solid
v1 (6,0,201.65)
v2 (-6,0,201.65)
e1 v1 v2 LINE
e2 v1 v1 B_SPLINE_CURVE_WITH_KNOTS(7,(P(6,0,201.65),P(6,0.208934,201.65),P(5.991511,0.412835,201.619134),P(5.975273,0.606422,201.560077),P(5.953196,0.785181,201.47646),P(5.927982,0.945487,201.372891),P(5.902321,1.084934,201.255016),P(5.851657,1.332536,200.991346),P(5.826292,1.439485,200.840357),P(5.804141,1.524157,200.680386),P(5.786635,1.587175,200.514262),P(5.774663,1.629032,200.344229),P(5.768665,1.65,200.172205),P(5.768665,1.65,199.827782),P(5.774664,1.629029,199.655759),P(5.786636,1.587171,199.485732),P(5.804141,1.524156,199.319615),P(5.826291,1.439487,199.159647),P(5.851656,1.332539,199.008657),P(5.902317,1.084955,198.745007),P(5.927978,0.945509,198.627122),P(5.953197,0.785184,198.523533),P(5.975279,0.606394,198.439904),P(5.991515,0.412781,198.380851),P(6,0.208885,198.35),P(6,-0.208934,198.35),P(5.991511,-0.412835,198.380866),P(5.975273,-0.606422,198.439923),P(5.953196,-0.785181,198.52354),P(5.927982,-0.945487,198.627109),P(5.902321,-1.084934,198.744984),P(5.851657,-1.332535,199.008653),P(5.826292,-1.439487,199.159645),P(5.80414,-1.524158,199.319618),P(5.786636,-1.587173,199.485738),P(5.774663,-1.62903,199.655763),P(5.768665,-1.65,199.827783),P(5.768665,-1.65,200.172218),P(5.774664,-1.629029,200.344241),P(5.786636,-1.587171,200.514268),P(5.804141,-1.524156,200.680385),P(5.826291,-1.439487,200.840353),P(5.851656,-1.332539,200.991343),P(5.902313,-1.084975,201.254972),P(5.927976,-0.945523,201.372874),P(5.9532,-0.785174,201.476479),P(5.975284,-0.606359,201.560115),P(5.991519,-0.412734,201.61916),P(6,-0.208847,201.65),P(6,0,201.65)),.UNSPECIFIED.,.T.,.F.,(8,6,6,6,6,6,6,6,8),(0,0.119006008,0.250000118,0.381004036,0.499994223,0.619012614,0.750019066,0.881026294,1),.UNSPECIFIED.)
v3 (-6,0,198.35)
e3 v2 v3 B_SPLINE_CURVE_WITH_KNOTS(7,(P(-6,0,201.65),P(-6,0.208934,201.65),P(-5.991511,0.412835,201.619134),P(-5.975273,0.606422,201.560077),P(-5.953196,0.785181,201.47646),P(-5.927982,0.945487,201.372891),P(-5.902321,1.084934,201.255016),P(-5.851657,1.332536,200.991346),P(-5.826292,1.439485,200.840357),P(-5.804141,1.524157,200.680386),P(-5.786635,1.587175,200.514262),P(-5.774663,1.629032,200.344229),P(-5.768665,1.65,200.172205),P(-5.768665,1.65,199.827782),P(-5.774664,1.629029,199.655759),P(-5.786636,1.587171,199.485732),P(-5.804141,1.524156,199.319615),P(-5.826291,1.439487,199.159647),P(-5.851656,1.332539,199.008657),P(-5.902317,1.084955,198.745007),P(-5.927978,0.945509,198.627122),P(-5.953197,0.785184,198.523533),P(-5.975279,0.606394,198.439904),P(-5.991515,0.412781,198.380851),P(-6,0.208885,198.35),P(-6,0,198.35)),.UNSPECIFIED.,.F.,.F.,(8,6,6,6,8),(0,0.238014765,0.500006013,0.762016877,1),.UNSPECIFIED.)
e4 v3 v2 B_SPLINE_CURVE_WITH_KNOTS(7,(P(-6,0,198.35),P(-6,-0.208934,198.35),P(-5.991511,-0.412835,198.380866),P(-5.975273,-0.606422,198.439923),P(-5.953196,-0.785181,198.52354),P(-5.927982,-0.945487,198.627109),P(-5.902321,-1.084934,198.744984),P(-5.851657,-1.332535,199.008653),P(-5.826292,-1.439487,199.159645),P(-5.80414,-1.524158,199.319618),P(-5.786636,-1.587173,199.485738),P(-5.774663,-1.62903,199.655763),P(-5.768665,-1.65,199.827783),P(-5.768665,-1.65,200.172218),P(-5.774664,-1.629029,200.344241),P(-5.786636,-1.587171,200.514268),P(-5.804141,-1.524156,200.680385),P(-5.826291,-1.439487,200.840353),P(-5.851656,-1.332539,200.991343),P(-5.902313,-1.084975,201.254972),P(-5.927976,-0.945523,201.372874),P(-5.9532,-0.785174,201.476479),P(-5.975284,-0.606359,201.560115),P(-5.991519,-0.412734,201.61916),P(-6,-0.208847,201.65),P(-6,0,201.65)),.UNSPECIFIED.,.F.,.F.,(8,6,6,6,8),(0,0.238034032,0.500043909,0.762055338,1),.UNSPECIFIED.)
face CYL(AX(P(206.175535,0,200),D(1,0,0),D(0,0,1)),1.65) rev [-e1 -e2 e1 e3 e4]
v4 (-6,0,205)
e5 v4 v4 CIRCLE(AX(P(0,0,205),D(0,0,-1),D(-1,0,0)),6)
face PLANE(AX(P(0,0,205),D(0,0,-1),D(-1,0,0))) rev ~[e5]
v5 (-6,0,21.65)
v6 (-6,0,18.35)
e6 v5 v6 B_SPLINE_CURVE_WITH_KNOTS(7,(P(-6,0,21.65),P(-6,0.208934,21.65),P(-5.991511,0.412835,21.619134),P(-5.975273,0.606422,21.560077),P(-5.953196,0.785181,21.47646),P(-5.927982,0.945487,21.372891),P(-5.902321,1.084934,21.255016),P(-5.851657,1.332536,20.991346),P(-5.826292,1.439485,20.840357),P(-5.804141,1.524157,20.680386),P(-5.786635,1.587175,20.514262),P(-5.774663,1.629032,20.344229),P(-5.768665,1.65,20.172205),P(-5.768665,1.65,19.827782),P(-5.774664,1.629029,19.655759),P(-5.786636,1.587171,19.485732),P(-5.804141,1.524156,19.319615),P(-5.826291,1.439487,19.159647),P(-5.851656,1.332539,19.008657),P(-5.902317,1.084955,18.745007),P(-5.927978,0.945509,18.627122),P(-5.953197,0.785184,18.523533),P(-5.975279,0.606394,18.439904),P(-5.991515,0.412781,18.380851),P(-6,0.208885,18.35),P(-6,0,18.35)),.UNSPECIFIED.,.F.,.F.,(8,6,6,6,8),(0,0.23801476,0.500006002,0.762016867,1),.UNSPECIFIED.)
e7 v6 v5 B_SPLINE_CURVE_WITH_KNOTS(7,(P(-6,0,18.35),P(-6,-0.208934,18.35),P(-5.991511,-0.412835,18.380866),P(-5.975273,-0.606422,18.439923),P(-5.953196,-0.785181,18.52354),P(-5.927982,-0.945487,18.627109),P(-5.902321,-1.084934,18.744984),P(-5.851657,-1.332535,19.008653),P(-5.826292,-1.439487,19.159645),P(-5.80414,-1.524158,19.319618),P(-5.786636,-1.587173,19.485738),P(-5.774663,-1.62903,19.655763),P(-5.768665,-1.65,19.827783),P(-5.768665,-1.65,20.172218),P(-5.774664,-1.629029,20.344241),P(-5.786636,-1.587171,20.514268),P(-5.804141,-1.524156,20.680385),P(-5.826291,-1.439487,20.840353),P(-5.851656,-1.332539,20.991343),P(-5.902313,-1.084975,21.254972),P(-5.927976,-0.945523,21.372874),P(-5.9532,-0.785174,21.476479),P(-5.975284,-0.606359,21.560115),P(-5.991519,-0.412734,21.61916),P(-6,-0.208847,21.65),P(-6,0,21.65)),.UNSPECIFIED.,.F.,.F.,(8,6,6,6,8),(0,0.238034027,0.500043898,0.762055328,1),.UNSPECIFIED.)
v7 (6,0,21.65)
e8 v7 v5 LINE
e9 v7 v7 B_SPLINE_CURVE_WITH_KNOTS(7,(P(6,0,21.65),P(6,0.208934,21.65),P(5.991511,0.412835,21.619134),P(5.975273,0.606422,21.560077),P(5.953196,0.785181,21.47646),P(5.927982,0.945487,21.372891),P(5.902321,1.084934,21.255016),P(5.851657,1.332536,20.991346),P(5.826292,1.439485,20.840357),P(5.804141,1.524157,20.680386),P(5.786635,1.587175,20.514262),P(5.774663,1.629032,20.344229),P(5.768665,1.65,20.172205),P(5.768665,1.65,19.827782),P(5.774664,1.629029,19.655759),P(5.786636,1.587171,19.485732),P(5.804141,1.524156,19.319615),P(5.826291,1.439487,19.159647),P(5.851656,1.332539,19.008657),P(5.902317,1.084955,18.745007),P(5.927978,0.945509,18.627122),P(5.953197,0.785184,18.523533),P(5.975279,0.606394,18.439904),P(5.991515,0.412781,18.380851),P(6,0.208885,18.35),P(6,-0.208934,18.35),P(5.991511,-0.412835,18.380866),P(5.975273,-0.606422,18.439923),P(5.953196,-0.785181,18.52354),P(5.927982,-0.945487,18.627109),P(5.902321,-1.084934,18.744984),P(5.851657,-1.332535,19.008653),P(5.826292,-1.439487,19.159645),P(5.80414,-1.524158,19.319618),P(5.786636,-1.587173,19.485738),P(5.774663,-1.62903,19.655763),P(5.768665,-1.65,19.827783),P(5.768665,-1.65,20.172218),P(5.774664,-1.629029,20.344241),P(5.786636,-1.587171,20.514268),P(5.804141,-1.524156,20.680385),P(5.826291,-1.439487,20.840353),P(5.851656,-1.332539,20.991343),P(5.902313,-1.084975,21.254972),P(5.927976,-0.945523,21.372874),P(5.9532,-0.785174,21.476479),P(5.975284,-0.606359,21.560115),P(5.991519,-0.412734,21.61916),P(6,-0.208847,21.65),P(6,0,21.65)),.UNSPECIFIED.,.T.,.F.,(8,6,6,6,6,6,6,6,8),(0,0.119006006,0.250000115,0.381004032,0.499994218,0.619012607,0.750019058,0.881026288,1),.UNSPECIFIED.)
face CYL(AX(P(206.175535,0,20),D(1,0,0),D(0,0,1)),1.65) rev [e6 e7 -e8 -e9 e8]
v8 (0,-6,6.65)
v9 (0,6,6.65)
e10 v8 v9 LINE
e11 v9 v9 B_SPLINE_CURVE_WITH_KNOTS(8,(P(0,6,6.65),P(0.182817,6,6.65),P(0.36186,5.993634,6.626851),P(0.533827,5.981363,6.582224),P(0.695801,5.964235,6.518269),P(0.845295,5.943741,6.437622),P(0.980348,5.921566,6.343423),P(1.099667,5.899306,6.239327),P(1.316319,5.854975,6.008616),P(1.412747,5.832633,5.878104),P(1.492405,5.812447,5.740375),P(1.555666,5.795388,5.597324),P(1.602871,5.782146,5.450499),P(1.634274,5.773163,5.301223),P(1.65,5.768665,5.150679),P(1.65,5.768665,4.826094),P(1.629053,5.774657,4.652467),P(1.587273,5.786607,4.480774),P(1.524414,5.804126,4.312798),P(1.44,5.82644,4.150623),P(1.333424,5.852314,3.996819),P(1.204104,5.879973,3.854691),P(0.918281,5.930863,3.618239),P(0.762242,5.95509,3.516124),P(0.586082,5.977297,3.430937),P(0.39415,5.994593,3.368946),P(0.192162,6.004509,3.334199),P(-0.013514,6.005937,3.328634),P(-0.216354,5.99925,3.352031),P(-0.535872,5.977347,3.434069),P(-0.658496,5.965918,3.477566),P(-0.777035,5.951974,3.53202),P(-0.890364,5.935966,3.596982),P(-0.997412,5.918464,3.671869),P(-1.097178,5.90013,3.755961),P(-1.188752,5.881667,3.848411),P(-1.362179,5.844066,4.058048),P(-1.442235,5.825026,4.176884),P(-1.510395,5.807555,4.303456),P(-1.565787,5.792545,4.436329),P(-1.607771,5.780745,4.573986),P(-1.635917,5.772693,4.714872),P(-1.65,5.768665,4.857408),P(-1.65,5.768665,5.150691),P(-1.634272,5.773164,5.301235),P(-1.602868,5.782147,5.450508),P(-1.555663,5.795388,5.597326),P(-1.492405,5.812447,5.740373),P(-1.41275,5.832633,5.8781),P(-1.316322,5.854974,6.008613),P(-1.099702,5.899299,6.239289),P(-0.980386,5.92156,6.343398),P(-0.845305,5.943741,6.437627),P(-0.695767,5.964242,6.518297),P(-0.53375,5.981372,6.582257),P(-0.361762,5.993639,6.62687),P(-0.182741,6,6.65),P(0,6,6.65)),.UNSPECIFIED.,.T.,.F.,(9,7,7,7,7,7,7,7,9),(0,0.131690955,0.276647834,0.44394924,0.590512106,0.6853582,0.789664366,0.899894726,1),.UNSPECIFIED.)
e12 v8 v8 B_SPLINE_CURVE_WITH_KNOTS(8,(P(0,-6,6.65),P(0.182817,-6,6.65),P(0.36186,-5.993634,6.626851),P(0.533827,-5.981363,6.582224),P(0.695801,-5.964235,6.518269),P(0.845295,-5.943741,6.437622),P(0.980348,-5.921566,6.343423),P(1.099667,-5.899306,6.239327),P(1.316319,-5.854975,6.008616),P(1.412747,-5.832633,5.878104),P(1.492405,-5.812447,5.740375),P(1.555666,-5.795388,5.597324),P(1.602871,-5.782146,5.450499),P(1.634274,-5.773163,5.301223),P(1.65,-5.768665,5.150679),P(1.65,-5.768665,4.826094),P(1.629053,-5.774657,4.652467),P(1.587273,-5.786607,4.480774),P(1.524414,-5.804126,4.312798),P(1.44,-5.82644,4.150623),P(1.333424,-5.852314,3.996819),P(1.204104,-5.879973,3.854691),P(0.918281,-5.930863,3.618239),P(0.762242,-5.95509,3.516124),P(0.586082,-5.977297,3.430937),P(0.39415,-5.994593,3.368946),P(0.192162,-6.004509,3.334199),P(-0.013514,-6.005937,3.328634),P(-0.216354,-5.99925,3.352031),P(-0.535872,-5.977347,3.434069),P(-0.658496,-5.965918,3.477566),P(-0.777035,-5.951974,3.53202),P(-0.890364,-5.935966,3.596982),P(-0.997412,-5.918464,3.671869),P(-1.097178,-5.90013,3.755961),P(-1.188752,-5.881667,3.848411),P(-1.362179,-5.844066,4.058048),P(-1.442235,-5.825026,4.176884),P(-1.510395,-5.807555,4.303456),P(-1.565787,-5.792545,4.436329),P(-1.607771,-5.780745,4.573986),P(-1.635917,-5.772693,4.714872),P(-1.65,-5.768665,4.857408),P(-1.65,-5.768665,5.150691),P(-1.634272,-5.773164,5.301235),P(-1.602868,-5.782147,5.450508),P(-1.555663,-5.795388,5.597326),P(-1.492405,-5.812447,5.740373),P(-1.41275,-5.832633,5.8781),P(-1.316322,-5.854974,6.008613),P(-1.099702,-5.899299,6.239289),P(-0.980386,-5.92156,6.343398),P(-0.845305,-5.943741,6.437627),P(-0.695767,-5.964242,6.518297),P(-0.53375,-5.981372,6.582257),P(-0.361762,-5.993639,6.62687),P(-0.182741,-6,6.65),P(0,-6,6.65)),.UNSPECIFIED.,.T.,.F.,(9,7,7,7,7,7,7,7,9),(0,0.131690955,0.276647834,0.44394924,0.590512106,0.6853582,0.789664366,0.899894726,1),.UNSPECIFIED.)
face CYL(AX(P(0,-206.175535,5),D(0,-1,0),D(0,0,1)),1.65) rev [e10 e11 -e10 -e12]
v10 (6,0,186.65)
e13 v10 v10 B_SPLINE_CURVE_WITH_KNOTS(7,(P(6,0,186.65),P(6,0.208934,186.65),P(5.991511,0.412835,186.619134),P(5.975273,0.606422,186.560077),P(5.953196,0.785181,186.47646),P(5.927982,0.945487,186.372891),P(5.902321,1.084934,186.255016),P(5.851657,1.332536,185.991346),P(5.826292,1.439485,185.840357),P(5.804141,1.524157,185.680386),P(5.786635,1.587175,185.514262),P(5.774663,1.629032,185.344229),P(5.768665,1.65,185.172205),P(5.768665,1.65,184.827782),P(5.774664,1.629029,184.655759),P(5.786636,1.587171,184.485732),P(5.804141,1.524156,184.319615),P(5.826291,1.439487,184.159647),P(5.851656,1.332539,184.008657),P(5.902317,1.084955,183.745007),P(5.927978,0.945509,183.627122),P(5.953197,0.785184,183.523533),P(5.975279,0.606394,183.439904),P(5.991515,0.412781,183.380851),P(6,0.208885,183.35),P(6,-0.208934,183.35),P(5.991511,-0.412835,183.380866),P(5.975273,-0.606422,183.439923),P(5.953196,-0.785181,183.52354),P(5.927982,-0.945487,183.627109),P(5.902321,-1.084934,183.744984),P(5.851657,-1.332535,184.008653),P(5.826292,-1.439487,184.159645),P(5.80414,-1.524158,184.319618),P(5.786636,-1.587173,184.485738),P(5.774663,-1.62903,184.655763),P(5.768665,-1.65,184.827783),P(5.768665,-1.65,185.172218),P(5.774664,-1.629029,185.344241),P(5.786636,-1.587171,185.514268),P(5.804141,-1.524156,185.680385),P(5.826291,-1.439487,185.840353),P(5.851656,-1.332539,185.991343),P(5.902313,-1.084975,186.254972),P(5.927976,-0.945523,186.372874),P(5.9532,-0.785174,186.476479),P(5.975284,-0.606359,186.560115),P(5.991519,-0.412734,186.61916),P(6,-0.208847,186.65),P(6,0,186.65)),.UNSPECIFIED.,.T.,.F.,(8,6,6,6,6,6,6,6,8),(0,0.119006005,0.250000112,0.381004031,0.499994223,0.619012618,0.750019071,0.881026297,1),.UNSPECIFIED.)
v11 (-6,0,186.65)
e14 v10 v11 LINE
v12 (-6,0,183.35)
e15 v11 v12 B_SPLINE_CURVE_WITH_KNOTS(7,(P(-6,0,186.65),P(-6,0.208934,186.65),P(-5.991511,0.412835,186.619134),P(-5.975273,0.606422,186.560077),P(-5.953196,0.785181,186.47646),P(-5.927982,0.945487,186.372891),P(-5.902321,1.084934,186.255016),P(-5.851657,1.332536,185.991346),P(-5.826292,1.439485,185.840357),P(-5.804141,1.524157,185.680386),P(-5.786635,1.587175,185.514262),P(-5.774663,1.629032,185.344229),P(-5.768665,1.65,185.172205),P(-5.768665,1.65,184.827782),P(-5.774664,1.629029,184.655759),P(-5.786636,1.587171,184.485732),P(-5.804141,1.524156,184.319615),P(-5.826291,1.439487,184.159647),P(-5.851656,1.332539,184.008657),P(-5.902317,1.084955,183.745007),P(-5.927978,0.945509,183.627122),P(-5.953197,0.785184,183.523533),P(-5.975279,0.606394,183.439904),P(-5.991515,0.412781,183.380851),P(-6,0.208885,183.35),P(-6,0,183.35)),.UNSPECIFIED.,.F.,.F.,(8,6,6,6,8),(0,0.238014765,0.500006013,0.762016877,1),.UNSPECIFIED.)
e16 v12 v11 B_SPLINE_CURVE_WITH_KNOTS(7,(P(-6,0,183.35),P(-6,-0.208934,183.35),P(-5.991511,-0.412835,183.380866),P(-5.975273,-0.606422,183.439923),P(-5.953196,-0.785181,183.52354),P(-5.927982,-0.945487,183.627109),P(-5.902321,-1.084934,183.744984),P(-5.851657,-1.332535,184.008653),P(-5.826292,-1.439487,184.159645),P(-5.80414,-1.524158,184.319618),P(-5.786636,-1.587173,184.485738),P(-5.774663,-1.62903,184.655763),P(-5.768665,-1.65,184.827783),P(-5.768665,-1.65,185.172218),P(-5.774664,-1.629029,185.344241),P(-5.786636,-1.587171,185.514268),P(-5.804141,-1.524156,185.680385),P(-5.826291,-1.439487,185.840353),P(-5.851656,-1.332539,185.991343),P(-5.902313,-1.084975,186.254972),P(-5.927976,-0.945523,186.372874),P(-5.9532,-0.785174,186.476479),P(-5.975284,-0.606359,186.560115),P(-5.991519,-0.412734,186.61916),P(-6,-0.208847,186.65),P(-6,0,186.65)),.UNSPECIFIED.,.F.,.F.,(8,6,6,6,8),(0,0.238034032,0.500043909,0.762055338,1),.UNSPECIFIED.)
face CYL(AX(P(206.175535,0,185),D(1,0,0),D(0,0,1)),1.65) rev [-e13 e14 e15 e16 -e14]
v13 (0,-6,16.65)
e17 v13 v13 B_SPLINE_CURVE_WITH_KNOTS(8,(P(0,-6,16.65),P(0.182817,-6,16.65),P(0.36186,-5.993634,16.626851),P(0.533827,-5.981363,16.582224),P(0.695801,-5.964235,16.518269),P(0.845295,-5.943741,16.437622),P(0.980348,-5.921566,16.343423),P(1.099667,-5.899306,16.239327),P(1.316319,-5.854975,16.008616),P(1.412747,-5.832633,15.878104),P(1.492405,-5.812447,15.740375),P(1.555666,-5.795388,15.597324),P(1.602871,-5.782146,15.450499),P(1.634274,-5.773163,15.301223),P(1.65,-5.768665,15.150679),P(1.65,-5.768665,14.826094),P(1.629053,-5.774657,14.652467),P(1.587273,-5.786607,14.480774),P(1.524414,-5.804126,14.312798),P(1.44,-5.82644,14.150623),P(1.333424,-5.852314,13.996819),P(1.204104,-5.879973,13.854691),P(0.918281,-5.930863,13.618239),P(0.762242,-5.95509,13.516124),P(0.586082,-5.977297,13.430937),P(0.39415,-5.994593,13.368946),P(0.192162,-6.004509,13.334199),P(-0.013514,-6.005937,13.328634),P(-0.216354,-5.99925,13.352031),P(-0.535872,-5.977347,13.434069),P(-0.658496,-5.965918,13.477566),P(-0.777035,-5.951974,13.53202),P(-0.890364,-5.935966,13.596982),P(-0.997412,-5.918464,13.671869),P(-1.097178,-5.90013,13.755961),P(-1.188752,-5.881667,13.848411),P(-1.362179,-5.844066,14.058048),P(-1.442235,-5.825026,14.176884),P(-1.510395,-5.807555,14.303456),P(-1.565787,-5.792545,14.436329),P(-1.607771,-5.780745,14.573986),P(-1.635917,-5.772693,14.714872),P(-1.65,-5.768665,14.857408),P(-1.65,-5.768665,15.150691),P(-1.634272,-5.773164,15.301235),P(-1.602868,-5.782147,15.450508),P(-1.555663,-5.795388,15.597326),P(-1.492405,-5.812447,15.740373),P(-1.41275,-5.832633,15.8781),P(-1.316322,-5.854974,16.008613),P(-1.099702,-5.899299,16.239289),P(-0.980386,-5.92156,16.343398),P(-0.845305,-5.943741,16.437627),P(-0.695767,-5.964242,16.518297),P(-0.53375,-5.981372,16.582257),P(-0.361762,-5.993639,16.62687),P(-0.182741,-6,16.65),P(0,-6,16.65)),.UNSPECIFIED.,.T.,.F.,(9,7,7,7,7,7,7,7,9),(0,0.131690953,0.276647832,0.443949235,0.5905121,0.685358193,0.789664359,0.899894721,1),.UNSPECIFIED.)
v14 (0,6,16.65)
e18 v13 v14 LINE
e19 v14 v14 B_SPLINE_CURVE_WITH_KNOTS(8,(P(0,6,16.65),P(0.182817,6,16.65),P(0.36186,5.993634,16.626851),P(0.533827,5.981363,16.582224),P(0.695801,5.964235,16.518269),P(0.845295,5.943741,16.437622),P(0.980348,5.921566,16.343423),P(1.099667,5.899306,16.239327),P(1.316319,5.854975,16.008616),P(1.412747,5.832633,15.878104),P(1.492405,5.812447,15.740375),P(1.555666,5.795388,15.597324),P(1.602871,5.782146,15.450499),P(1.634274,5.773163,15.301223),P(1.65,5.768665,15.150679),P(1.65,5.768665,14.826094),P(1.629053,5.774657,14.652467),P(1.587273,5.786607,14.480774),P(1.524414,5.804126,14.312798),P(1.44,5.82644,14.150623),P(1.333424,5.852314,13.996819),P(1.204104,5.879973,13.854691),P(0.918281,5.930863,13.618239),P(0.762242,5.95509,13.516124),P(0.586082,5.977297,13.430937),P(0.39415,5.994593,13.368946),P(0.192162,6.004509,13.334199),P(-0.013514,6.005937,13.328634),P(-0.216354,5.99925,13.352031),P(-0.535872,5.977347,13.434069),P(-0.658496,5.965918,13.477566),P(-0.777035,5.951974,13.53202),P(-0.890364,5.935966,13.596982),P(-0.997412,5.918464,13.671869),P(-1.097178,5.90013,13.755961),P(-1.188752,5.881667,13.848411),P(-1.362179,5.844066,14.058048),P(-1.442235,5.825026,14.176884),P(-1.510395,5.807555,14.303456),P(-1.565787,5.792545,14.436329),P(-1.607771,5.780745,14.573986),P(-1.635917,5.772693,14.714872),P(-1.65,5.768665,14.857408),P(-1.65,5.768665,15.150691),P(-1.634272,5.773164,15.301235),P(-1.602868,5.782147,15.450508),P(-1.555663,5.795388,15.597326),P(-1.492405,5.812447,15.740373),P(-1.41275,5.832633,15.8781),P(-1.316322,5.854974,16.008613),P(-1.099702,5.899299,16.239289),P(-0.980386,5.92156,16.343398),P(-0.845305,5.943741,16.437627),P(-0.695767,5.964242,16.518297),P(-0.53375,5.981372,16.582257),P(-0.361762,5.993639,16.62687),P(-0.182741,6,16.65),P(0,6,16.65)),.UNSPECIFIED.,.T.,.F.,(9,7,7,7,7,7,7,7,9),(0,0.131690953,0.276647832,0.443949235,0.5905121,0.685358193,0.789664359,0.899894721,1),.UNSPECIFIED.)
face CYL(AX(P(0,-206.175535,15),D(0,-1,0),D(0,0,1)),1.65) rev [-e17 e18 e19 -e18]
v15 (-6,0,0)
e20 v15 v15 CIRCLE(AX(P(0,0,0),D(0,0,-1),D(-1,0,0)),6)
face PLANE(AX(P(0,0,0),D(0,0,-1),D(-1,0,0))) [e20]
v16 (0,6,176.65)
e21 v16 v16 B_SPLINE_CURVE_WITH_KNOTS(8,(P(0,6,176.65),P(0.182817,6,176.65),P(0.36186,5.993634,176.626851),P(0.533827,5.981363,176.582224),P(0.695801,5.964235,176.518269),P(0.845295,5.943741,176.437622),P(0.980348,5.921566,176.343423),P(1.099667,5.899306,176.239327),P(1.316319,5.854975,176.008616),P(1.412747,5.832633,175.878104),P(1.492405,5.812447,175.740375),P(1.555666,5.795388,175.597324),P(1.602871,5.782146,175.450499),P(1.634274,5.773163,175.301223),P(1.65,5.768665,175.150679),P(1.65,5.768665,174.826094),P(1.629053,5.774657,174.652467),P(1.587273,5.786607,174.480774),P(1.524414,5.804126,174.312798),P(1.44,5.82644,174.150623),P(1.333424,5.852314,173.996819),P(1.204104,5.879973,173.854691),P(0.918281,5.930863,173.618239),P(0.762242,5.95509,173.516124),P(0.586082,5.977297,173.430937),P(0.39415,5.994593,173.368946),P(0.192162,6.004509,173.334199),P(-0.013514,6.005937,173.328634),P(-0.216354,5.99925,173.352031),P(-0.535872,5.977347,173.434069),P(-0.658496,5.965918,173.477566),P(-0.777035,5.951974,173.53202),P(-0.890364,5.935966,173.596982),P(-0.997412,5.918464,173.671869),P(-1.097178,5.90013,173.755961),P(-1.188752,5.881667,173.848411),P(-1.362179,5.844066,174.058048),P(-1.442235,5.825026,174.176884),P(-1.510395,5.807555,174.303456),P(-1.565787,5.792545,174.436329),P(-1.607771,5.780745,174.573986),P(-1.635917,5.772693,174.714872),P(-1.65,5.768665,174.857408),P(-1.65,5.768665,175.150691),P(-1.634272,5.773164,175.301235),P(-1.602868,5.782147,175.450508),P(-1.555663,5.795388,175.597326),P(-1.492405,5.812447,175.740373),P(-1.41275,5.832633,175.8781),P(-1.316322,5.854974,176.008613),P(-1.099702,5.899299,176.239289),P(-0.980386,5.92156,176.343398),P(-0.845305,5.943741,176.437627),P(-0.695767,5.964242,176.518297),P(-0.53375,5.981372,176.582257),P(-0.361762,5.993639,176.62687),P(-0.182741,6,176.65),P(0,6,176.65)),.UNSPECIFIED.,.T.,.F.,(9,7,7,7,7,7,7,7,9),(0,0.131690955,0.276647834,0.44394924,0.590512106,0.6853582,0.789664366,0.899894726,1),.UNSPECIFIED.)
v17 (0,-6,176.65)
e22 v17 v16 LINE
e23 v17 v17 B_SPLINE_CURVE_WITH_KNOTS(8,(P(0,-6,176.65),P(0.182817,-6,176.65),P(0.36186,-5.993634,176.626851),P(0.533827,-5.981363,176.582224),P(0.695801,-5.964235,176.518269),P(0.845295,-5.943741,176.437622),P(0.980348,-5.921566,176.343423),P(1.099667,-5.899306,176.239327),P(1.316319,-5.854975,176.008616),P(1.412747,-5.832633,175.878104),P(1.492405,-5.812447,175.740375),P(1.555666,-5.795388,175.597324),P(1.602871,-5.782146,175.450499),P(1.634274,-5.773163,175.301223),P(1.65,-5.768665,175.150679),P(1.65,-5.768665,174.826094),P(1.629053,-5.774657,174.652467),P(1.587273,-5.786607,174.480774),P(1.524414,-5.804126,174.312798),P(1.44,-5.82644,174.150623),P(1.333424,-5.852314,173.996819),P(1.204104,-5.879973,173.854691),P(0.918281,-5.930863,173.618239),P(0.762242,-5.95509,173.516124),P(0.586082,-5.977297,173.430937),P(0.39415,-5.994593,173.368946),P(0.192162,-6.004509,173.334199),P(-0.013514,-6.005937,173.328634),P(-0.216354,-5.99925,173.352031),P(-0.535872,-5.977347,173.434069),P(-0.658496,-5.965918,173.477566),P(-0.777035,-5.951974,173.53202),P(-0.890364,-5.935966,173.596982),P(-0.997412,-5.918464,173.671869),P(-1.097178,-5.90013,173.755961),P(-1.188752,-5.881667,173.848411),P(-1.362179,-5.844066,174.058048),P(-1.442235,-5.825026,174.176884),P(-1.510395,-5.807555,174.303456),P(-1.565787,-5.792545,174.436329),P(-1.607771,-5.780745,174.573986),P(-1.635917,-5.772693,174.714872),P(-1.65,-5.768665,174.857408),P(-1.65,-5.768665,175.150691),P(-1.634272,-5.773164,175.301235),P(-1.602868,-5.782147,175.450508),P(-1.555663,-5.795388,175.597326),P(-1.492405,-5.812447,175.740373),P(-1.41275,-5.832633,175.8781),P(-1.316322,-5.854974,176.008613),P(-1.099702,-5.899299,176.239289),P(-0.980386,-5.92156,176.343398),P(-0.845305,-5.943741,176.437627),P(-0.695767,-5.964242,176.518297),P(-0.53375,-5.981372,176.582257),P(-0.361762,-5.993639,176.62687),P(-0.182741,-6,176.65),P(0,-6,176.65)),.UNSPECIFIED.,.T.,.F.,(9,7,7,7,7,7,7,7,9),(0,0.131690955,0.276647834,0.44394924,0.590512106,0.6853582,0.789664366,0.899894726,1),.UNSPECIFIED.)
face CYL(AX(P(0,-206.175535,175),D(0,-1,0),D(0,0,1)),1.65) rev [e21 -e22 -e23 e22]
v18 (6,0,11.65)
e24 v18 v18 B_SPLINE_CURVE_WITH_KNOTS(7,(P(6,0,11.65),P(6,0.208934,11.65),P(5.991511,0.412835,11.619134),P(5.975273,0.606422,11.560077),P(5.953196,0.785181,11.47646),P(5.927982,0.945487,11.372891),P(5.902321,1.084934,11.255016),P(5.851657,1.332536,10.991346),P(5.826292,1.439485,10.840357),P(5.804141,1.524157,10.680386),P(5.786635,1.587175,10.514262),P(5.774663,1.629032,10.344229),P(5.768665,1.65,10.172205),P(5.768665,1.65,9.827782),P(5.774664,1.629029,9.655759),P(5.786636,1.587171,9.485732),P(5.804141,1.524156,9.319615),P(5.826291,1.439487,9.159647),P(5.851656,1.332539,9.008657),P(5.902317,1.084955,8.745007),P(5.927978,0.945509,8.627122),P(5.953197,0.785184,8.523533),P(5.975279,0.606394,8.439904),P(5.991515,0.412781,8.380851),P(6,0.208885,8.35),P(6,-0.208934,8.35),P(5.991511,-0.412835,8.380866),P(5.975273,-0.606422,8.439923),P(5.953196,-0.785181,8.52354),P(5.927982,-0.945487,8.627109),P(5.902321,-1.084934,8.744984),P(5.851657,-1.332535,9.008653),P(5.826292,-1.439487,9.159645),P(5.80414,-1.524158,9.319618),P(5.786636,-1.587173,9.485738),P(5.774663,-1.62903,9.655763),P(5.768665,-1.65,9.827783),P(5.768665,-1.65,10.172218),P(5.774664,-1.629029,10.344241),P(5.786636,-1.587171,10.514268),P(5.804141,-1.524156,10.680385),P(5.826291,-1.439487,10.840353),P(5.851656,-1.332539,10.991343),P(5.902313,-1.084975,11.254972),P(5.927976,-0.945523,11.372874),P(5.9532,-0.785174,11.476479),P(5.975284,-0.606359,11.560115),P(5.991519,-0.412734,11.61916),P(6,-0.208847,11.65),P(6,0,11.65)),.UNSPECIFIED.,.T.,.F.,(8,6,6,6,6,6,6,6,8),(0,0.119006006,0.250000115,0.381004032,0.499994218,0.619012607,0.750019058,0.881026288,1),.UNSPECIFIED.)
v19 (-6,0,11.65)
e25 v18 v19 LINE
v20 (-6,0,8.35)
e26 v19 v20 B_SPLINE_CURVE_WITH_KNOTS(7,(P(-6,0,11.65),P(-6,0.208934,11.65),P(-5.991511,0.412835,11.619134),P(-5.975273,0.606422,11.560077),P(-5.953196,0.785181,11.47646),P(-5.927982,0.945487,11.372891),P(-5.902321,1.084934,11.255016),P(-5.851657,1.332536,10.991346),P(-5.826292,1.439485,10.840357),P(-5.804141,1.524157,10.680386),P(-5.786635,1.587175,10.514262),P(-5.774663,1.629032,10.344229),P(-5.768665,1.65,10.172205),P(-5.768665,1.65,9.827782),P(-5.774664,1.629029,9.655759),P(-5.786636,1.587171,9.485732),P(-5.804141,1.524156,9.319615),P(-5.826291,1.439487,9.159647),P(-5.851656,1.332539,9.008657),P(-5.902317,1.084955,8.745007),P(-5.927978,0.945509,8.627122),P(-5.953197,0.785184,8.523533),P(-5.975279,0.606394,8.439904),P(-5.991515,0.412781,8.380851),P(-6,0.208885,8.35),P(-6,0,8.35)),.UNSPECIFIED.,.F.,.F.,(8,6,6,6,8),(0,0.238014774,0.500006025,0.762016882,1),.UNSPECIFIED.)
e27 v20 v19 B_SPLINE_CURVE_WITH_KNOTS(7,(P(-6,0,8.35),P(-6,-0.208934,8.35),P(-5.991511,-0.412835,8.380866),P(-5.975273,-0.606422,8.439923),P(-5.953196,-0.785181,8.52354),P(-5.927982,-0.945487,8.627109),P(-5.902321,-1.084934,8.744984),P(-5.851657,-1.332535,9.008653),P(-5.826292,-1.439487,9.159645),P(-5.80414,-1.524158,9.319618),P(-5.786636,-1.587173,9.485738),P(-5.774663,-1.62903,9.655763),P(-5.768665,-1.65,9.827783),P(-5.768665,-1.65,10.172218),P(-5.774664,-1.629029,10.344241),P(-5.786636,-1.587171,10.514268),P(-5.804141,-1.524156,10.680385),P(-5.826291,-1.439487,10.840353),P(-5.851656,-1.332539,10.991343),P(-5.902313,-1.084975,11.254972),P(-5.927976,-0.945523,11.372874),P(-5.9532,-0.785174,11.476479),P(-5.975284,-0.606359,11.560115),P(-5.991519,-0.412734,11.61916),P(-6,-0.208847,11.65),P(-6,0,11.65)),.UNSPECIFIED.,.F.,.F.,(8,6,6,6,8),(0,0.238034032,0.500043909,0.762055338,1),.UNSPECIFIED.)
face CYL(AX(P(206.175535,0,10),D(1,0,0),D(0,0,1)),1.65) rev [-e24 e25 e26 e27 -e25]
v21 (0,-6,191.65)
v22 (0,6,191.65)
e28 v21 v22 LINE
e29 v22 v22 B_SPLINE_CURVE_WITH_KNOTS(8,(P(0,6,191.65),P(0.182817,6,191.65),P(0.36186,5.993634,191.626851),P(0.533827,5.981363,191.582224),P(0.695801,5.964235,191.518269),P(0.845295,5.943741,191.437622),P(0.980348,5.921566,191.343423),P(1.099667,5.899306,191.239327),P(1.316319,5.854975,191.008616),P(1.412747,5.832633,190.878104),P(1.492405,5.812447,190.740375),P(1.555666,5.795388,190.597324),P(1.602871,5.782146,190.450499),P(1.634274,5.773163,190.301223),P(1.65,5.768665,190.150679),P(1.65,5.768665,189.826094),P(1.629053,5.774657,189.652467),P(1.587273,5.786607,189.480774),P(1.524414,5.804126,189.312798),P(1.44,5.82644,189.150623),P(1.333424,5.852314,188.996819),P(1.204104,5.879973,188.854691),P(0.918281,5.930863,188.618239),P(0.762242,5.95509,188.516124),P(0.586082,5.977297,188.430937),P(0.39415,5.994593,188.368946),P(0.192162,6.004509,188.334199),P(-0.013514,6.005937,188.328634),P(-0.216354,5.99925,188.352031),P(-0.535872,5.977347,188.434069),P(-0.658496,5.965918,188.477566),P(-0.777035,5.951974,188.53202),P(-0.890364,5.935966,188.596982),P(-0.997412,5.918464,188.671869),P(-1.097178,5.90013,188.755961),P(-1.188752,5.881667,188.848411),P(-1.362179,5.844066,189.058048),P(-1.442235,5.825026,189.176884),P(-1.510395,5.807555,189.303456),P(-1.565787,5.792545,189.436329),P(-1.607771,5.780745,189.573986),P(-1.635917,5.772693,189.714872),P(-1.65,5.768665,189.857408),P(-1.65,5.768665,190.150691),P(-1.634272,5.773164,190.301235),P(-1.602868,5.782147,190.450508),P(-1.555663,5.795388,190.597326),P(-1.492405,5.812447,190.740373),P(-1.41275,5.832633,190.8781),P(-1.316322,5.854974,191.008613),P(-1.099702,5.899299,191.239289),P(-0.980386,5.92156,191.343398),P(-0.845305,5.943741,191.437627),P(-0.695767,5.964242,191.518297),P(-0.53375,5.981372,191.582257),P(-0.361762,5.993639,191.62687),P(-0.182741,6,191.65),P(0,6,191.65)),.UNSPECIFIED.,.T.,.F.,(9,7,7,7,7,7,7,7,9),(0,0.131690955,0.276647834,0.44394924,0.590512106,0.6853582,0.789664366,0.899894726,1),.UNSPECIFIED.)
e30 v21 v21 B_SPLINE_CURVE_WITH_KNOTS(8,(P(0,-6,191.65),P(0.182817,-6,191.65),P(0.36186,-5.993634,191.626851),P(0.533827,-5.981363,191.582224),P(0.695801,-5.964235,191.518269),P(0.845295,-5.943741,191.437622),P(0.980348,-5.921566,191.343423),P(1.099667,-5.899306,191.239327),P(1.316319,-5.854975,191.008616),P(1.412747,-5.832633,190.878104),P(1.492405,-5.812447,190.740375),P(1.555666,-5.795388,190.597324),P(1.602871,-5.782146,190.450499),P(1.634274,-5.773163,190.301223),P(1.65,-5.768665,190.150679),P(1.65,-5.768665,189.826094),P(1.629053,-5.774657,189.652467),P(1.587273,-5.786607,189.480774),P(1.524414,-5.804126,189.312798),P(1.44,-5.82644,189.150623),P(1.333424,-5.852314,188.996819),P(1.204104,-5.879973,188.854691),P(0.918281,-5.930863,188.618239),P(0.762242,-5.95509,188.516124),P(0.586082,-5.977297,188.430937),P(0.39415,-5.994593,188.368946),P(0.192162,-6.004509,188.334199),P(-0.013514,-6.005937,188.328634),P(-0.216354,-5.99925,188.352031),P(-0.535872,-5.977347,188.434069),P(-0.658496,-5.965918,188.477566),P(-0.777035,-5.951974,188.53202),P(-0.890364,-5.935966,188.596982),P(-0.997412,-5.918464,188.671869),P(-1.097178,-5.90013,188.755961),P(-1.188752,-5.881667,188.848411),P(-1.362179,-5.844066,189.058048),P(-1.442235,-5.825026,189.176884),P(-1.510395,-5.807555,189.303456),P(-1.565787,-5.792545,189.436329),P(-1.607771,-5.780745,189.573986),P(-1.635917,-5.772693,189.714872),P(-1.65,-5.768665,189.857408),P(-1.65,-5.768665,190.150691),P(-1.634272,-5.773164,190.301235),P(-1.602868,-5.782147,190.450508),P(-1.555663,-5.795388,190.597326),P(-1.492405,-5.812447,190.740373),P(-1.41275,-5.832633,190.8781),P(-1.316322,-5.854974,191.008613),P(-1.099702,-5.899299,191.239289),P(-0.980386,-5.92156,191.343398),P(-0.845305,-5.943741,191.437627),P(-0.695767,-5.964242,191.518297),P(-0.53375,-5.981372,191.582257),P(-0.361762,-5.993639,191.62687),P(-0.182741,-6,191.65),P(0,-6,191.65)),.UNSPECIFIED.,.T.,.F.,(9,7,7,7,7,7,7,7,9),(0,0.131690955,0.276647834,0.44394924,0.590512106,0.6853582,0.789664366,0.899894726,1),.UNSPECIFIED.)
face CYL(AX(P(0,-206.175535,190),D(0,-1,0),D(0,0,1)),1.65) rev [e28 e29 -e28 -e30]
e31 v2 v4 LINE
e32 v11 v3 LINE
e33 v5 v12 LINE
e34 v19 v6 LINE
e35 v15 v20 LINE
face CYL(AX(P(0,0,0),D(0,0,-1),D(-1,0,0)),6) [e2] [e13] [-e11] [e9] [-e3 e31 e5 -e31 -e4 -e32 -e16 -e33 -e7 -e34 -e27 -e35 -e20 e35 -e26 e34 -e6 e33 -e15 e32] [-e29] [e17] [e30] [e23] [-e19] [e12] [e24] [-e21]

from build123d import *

# Parameters (mm, degrees)
SKETCH_1_W               = 8
SKETCH_1_H               = 8
SKETCH_1_W_2             = 4
SKETCH_1_H_2             = 4
EXTRUDE_1_DEPTH          = 205
SKETCH_7_R               = 6
EXTRUDE_2_DEPTH          = 205
CUT_EXTRUDE_1_DEPTH      = 206.175534604
CUT_EXTRUDE_1_DEPTH_BACK = 206.175534604
SKETCH_2_R               = 1.65
CUT_EXTRUDE_2_DEPTH      = 206.17553471
CUT_EXTRUDE_2_DEPTH_BACK = 206.17553471
SKETCH_3_R               = 1.65
CUT_EXTRUDE_3_DEPTH      = 206.17553471
CUT_EXTRUDE_3_DEPTH_BACK = 206.17553471
SKETCH_4_R               = 1.65
CUT_EXTRUDE_4_DEPTH      = 206.17553471
CUT_EXTRUDE_4_DEPTH_BACK = 206.17553471
SKETCH_5_R               = 1.65


with BuildPart() as part:
    # 草图1 → 凸台-拉伸1 (new body)
    with BuildSketch(Plane.XY):
        Rectangle(SKETCH_1_W, SKETCH_1_H)
        Rectangle(SKETCH_1_W_2, SKETCH_1_H_2, mode=Mode.SUBTRACT)
    extrude(amount=EXTRUDE_1_DEPTH)

    # 草图7 → 凸台-拉伸2 (add)
    with BuildSketch(Plane(origin=(0, 0, 0), x_dir=(-1, 0, 0), z_dir=(0, 0, -1))):
        Circle(SKETCH_7_R)
    extrude(amount=-EXTRUDE_2_DEPTH)

    # 草图2 → 切除-拉伸1 (cut, two sides: drawn at the far end of the back side and taken through both)
    with BuildSketch(Plane(origin=(0, 0, 0), x_dir=(1, 0, 0), z_dir=(0, 1, 0)).offset(-CUT_EXTRUDE_1_DEPTH_BACK)):
        with Locations(Location((0, -5, 0), (0, 0, 270))):
            Circle(SKETCH_2_R)
        with Locations(Location((0, -15, 0), (0, 0, 270))):
            Circle(SKETCH_2_R)
    extrude(amount=CUT_EXTRUDE_1_DEPTH + CUT_EXTRUDE_1_DEPTH_BACK, mode=Mode.SUBTRACT)

    # 草图3 → 切除-拉伸2 (cut, two sides: drawn at the far end of the back side and taken through both)
    with BuildSketch(Plane.ZY.offset(-CUT_EXTRUDE_2_DEPTH_BACK)):
        with Locations((10, 0)):
            Circle(SKETCH_3_R)
        with Locations((20, 0)):
            Circle(SKETCH_3_R)
    extrude(amount=CUT_EXTRUDE_2_DEPTH + CUT_EXTRUDE_2_DEPTH_BACK, mode=Mode.SUBTRACT)

    # 草图4 → 切除-拉伸3 (cut, two sides: drawn at the far end of the back side and taken through both)
    with BuildSketch(Plane.ZY.offset(-CUT_EXTRUDE_3_DEPTH_BACK)):
        with Locations((200, 0)):
            Circle(SKETCH_4_R)
        with Locations((185, 0)):
            Circle(SKETCH_4_R)
    extrude(amount=CUT_EXTRUDE_3_DEPTH + CUT_EXTRUDE_3_DEPTH_BACK, mode=Mode.SUBTRACT)

    # 草图5 → 切除-拉伸4 (cut, two sides: drawn at the far end of the back side and taken through both)
    with BuildSketch(Plane(origin=(0, 0, 0), x_dir=(1, 0, 0), z_dir=(0, 1, 0)).offset(-CUT_EXTRUDE_4_DEPTH_BACK)):
        with Locations(Location((0, -190, 0), (0, 0, 270))):
            Circle(SKETCH_5_R)
        with Locations(Location((0, -175, 0), (0, 0, 270))):
            Circle(SKETCH_5_R)
    extrude(amount=CUT_EXTRUDE_4_DEPTH + CUT_EXTRUDE_4_DEPTH_BACK, mode=Mode.SUBTRACT)


solid = part.part
